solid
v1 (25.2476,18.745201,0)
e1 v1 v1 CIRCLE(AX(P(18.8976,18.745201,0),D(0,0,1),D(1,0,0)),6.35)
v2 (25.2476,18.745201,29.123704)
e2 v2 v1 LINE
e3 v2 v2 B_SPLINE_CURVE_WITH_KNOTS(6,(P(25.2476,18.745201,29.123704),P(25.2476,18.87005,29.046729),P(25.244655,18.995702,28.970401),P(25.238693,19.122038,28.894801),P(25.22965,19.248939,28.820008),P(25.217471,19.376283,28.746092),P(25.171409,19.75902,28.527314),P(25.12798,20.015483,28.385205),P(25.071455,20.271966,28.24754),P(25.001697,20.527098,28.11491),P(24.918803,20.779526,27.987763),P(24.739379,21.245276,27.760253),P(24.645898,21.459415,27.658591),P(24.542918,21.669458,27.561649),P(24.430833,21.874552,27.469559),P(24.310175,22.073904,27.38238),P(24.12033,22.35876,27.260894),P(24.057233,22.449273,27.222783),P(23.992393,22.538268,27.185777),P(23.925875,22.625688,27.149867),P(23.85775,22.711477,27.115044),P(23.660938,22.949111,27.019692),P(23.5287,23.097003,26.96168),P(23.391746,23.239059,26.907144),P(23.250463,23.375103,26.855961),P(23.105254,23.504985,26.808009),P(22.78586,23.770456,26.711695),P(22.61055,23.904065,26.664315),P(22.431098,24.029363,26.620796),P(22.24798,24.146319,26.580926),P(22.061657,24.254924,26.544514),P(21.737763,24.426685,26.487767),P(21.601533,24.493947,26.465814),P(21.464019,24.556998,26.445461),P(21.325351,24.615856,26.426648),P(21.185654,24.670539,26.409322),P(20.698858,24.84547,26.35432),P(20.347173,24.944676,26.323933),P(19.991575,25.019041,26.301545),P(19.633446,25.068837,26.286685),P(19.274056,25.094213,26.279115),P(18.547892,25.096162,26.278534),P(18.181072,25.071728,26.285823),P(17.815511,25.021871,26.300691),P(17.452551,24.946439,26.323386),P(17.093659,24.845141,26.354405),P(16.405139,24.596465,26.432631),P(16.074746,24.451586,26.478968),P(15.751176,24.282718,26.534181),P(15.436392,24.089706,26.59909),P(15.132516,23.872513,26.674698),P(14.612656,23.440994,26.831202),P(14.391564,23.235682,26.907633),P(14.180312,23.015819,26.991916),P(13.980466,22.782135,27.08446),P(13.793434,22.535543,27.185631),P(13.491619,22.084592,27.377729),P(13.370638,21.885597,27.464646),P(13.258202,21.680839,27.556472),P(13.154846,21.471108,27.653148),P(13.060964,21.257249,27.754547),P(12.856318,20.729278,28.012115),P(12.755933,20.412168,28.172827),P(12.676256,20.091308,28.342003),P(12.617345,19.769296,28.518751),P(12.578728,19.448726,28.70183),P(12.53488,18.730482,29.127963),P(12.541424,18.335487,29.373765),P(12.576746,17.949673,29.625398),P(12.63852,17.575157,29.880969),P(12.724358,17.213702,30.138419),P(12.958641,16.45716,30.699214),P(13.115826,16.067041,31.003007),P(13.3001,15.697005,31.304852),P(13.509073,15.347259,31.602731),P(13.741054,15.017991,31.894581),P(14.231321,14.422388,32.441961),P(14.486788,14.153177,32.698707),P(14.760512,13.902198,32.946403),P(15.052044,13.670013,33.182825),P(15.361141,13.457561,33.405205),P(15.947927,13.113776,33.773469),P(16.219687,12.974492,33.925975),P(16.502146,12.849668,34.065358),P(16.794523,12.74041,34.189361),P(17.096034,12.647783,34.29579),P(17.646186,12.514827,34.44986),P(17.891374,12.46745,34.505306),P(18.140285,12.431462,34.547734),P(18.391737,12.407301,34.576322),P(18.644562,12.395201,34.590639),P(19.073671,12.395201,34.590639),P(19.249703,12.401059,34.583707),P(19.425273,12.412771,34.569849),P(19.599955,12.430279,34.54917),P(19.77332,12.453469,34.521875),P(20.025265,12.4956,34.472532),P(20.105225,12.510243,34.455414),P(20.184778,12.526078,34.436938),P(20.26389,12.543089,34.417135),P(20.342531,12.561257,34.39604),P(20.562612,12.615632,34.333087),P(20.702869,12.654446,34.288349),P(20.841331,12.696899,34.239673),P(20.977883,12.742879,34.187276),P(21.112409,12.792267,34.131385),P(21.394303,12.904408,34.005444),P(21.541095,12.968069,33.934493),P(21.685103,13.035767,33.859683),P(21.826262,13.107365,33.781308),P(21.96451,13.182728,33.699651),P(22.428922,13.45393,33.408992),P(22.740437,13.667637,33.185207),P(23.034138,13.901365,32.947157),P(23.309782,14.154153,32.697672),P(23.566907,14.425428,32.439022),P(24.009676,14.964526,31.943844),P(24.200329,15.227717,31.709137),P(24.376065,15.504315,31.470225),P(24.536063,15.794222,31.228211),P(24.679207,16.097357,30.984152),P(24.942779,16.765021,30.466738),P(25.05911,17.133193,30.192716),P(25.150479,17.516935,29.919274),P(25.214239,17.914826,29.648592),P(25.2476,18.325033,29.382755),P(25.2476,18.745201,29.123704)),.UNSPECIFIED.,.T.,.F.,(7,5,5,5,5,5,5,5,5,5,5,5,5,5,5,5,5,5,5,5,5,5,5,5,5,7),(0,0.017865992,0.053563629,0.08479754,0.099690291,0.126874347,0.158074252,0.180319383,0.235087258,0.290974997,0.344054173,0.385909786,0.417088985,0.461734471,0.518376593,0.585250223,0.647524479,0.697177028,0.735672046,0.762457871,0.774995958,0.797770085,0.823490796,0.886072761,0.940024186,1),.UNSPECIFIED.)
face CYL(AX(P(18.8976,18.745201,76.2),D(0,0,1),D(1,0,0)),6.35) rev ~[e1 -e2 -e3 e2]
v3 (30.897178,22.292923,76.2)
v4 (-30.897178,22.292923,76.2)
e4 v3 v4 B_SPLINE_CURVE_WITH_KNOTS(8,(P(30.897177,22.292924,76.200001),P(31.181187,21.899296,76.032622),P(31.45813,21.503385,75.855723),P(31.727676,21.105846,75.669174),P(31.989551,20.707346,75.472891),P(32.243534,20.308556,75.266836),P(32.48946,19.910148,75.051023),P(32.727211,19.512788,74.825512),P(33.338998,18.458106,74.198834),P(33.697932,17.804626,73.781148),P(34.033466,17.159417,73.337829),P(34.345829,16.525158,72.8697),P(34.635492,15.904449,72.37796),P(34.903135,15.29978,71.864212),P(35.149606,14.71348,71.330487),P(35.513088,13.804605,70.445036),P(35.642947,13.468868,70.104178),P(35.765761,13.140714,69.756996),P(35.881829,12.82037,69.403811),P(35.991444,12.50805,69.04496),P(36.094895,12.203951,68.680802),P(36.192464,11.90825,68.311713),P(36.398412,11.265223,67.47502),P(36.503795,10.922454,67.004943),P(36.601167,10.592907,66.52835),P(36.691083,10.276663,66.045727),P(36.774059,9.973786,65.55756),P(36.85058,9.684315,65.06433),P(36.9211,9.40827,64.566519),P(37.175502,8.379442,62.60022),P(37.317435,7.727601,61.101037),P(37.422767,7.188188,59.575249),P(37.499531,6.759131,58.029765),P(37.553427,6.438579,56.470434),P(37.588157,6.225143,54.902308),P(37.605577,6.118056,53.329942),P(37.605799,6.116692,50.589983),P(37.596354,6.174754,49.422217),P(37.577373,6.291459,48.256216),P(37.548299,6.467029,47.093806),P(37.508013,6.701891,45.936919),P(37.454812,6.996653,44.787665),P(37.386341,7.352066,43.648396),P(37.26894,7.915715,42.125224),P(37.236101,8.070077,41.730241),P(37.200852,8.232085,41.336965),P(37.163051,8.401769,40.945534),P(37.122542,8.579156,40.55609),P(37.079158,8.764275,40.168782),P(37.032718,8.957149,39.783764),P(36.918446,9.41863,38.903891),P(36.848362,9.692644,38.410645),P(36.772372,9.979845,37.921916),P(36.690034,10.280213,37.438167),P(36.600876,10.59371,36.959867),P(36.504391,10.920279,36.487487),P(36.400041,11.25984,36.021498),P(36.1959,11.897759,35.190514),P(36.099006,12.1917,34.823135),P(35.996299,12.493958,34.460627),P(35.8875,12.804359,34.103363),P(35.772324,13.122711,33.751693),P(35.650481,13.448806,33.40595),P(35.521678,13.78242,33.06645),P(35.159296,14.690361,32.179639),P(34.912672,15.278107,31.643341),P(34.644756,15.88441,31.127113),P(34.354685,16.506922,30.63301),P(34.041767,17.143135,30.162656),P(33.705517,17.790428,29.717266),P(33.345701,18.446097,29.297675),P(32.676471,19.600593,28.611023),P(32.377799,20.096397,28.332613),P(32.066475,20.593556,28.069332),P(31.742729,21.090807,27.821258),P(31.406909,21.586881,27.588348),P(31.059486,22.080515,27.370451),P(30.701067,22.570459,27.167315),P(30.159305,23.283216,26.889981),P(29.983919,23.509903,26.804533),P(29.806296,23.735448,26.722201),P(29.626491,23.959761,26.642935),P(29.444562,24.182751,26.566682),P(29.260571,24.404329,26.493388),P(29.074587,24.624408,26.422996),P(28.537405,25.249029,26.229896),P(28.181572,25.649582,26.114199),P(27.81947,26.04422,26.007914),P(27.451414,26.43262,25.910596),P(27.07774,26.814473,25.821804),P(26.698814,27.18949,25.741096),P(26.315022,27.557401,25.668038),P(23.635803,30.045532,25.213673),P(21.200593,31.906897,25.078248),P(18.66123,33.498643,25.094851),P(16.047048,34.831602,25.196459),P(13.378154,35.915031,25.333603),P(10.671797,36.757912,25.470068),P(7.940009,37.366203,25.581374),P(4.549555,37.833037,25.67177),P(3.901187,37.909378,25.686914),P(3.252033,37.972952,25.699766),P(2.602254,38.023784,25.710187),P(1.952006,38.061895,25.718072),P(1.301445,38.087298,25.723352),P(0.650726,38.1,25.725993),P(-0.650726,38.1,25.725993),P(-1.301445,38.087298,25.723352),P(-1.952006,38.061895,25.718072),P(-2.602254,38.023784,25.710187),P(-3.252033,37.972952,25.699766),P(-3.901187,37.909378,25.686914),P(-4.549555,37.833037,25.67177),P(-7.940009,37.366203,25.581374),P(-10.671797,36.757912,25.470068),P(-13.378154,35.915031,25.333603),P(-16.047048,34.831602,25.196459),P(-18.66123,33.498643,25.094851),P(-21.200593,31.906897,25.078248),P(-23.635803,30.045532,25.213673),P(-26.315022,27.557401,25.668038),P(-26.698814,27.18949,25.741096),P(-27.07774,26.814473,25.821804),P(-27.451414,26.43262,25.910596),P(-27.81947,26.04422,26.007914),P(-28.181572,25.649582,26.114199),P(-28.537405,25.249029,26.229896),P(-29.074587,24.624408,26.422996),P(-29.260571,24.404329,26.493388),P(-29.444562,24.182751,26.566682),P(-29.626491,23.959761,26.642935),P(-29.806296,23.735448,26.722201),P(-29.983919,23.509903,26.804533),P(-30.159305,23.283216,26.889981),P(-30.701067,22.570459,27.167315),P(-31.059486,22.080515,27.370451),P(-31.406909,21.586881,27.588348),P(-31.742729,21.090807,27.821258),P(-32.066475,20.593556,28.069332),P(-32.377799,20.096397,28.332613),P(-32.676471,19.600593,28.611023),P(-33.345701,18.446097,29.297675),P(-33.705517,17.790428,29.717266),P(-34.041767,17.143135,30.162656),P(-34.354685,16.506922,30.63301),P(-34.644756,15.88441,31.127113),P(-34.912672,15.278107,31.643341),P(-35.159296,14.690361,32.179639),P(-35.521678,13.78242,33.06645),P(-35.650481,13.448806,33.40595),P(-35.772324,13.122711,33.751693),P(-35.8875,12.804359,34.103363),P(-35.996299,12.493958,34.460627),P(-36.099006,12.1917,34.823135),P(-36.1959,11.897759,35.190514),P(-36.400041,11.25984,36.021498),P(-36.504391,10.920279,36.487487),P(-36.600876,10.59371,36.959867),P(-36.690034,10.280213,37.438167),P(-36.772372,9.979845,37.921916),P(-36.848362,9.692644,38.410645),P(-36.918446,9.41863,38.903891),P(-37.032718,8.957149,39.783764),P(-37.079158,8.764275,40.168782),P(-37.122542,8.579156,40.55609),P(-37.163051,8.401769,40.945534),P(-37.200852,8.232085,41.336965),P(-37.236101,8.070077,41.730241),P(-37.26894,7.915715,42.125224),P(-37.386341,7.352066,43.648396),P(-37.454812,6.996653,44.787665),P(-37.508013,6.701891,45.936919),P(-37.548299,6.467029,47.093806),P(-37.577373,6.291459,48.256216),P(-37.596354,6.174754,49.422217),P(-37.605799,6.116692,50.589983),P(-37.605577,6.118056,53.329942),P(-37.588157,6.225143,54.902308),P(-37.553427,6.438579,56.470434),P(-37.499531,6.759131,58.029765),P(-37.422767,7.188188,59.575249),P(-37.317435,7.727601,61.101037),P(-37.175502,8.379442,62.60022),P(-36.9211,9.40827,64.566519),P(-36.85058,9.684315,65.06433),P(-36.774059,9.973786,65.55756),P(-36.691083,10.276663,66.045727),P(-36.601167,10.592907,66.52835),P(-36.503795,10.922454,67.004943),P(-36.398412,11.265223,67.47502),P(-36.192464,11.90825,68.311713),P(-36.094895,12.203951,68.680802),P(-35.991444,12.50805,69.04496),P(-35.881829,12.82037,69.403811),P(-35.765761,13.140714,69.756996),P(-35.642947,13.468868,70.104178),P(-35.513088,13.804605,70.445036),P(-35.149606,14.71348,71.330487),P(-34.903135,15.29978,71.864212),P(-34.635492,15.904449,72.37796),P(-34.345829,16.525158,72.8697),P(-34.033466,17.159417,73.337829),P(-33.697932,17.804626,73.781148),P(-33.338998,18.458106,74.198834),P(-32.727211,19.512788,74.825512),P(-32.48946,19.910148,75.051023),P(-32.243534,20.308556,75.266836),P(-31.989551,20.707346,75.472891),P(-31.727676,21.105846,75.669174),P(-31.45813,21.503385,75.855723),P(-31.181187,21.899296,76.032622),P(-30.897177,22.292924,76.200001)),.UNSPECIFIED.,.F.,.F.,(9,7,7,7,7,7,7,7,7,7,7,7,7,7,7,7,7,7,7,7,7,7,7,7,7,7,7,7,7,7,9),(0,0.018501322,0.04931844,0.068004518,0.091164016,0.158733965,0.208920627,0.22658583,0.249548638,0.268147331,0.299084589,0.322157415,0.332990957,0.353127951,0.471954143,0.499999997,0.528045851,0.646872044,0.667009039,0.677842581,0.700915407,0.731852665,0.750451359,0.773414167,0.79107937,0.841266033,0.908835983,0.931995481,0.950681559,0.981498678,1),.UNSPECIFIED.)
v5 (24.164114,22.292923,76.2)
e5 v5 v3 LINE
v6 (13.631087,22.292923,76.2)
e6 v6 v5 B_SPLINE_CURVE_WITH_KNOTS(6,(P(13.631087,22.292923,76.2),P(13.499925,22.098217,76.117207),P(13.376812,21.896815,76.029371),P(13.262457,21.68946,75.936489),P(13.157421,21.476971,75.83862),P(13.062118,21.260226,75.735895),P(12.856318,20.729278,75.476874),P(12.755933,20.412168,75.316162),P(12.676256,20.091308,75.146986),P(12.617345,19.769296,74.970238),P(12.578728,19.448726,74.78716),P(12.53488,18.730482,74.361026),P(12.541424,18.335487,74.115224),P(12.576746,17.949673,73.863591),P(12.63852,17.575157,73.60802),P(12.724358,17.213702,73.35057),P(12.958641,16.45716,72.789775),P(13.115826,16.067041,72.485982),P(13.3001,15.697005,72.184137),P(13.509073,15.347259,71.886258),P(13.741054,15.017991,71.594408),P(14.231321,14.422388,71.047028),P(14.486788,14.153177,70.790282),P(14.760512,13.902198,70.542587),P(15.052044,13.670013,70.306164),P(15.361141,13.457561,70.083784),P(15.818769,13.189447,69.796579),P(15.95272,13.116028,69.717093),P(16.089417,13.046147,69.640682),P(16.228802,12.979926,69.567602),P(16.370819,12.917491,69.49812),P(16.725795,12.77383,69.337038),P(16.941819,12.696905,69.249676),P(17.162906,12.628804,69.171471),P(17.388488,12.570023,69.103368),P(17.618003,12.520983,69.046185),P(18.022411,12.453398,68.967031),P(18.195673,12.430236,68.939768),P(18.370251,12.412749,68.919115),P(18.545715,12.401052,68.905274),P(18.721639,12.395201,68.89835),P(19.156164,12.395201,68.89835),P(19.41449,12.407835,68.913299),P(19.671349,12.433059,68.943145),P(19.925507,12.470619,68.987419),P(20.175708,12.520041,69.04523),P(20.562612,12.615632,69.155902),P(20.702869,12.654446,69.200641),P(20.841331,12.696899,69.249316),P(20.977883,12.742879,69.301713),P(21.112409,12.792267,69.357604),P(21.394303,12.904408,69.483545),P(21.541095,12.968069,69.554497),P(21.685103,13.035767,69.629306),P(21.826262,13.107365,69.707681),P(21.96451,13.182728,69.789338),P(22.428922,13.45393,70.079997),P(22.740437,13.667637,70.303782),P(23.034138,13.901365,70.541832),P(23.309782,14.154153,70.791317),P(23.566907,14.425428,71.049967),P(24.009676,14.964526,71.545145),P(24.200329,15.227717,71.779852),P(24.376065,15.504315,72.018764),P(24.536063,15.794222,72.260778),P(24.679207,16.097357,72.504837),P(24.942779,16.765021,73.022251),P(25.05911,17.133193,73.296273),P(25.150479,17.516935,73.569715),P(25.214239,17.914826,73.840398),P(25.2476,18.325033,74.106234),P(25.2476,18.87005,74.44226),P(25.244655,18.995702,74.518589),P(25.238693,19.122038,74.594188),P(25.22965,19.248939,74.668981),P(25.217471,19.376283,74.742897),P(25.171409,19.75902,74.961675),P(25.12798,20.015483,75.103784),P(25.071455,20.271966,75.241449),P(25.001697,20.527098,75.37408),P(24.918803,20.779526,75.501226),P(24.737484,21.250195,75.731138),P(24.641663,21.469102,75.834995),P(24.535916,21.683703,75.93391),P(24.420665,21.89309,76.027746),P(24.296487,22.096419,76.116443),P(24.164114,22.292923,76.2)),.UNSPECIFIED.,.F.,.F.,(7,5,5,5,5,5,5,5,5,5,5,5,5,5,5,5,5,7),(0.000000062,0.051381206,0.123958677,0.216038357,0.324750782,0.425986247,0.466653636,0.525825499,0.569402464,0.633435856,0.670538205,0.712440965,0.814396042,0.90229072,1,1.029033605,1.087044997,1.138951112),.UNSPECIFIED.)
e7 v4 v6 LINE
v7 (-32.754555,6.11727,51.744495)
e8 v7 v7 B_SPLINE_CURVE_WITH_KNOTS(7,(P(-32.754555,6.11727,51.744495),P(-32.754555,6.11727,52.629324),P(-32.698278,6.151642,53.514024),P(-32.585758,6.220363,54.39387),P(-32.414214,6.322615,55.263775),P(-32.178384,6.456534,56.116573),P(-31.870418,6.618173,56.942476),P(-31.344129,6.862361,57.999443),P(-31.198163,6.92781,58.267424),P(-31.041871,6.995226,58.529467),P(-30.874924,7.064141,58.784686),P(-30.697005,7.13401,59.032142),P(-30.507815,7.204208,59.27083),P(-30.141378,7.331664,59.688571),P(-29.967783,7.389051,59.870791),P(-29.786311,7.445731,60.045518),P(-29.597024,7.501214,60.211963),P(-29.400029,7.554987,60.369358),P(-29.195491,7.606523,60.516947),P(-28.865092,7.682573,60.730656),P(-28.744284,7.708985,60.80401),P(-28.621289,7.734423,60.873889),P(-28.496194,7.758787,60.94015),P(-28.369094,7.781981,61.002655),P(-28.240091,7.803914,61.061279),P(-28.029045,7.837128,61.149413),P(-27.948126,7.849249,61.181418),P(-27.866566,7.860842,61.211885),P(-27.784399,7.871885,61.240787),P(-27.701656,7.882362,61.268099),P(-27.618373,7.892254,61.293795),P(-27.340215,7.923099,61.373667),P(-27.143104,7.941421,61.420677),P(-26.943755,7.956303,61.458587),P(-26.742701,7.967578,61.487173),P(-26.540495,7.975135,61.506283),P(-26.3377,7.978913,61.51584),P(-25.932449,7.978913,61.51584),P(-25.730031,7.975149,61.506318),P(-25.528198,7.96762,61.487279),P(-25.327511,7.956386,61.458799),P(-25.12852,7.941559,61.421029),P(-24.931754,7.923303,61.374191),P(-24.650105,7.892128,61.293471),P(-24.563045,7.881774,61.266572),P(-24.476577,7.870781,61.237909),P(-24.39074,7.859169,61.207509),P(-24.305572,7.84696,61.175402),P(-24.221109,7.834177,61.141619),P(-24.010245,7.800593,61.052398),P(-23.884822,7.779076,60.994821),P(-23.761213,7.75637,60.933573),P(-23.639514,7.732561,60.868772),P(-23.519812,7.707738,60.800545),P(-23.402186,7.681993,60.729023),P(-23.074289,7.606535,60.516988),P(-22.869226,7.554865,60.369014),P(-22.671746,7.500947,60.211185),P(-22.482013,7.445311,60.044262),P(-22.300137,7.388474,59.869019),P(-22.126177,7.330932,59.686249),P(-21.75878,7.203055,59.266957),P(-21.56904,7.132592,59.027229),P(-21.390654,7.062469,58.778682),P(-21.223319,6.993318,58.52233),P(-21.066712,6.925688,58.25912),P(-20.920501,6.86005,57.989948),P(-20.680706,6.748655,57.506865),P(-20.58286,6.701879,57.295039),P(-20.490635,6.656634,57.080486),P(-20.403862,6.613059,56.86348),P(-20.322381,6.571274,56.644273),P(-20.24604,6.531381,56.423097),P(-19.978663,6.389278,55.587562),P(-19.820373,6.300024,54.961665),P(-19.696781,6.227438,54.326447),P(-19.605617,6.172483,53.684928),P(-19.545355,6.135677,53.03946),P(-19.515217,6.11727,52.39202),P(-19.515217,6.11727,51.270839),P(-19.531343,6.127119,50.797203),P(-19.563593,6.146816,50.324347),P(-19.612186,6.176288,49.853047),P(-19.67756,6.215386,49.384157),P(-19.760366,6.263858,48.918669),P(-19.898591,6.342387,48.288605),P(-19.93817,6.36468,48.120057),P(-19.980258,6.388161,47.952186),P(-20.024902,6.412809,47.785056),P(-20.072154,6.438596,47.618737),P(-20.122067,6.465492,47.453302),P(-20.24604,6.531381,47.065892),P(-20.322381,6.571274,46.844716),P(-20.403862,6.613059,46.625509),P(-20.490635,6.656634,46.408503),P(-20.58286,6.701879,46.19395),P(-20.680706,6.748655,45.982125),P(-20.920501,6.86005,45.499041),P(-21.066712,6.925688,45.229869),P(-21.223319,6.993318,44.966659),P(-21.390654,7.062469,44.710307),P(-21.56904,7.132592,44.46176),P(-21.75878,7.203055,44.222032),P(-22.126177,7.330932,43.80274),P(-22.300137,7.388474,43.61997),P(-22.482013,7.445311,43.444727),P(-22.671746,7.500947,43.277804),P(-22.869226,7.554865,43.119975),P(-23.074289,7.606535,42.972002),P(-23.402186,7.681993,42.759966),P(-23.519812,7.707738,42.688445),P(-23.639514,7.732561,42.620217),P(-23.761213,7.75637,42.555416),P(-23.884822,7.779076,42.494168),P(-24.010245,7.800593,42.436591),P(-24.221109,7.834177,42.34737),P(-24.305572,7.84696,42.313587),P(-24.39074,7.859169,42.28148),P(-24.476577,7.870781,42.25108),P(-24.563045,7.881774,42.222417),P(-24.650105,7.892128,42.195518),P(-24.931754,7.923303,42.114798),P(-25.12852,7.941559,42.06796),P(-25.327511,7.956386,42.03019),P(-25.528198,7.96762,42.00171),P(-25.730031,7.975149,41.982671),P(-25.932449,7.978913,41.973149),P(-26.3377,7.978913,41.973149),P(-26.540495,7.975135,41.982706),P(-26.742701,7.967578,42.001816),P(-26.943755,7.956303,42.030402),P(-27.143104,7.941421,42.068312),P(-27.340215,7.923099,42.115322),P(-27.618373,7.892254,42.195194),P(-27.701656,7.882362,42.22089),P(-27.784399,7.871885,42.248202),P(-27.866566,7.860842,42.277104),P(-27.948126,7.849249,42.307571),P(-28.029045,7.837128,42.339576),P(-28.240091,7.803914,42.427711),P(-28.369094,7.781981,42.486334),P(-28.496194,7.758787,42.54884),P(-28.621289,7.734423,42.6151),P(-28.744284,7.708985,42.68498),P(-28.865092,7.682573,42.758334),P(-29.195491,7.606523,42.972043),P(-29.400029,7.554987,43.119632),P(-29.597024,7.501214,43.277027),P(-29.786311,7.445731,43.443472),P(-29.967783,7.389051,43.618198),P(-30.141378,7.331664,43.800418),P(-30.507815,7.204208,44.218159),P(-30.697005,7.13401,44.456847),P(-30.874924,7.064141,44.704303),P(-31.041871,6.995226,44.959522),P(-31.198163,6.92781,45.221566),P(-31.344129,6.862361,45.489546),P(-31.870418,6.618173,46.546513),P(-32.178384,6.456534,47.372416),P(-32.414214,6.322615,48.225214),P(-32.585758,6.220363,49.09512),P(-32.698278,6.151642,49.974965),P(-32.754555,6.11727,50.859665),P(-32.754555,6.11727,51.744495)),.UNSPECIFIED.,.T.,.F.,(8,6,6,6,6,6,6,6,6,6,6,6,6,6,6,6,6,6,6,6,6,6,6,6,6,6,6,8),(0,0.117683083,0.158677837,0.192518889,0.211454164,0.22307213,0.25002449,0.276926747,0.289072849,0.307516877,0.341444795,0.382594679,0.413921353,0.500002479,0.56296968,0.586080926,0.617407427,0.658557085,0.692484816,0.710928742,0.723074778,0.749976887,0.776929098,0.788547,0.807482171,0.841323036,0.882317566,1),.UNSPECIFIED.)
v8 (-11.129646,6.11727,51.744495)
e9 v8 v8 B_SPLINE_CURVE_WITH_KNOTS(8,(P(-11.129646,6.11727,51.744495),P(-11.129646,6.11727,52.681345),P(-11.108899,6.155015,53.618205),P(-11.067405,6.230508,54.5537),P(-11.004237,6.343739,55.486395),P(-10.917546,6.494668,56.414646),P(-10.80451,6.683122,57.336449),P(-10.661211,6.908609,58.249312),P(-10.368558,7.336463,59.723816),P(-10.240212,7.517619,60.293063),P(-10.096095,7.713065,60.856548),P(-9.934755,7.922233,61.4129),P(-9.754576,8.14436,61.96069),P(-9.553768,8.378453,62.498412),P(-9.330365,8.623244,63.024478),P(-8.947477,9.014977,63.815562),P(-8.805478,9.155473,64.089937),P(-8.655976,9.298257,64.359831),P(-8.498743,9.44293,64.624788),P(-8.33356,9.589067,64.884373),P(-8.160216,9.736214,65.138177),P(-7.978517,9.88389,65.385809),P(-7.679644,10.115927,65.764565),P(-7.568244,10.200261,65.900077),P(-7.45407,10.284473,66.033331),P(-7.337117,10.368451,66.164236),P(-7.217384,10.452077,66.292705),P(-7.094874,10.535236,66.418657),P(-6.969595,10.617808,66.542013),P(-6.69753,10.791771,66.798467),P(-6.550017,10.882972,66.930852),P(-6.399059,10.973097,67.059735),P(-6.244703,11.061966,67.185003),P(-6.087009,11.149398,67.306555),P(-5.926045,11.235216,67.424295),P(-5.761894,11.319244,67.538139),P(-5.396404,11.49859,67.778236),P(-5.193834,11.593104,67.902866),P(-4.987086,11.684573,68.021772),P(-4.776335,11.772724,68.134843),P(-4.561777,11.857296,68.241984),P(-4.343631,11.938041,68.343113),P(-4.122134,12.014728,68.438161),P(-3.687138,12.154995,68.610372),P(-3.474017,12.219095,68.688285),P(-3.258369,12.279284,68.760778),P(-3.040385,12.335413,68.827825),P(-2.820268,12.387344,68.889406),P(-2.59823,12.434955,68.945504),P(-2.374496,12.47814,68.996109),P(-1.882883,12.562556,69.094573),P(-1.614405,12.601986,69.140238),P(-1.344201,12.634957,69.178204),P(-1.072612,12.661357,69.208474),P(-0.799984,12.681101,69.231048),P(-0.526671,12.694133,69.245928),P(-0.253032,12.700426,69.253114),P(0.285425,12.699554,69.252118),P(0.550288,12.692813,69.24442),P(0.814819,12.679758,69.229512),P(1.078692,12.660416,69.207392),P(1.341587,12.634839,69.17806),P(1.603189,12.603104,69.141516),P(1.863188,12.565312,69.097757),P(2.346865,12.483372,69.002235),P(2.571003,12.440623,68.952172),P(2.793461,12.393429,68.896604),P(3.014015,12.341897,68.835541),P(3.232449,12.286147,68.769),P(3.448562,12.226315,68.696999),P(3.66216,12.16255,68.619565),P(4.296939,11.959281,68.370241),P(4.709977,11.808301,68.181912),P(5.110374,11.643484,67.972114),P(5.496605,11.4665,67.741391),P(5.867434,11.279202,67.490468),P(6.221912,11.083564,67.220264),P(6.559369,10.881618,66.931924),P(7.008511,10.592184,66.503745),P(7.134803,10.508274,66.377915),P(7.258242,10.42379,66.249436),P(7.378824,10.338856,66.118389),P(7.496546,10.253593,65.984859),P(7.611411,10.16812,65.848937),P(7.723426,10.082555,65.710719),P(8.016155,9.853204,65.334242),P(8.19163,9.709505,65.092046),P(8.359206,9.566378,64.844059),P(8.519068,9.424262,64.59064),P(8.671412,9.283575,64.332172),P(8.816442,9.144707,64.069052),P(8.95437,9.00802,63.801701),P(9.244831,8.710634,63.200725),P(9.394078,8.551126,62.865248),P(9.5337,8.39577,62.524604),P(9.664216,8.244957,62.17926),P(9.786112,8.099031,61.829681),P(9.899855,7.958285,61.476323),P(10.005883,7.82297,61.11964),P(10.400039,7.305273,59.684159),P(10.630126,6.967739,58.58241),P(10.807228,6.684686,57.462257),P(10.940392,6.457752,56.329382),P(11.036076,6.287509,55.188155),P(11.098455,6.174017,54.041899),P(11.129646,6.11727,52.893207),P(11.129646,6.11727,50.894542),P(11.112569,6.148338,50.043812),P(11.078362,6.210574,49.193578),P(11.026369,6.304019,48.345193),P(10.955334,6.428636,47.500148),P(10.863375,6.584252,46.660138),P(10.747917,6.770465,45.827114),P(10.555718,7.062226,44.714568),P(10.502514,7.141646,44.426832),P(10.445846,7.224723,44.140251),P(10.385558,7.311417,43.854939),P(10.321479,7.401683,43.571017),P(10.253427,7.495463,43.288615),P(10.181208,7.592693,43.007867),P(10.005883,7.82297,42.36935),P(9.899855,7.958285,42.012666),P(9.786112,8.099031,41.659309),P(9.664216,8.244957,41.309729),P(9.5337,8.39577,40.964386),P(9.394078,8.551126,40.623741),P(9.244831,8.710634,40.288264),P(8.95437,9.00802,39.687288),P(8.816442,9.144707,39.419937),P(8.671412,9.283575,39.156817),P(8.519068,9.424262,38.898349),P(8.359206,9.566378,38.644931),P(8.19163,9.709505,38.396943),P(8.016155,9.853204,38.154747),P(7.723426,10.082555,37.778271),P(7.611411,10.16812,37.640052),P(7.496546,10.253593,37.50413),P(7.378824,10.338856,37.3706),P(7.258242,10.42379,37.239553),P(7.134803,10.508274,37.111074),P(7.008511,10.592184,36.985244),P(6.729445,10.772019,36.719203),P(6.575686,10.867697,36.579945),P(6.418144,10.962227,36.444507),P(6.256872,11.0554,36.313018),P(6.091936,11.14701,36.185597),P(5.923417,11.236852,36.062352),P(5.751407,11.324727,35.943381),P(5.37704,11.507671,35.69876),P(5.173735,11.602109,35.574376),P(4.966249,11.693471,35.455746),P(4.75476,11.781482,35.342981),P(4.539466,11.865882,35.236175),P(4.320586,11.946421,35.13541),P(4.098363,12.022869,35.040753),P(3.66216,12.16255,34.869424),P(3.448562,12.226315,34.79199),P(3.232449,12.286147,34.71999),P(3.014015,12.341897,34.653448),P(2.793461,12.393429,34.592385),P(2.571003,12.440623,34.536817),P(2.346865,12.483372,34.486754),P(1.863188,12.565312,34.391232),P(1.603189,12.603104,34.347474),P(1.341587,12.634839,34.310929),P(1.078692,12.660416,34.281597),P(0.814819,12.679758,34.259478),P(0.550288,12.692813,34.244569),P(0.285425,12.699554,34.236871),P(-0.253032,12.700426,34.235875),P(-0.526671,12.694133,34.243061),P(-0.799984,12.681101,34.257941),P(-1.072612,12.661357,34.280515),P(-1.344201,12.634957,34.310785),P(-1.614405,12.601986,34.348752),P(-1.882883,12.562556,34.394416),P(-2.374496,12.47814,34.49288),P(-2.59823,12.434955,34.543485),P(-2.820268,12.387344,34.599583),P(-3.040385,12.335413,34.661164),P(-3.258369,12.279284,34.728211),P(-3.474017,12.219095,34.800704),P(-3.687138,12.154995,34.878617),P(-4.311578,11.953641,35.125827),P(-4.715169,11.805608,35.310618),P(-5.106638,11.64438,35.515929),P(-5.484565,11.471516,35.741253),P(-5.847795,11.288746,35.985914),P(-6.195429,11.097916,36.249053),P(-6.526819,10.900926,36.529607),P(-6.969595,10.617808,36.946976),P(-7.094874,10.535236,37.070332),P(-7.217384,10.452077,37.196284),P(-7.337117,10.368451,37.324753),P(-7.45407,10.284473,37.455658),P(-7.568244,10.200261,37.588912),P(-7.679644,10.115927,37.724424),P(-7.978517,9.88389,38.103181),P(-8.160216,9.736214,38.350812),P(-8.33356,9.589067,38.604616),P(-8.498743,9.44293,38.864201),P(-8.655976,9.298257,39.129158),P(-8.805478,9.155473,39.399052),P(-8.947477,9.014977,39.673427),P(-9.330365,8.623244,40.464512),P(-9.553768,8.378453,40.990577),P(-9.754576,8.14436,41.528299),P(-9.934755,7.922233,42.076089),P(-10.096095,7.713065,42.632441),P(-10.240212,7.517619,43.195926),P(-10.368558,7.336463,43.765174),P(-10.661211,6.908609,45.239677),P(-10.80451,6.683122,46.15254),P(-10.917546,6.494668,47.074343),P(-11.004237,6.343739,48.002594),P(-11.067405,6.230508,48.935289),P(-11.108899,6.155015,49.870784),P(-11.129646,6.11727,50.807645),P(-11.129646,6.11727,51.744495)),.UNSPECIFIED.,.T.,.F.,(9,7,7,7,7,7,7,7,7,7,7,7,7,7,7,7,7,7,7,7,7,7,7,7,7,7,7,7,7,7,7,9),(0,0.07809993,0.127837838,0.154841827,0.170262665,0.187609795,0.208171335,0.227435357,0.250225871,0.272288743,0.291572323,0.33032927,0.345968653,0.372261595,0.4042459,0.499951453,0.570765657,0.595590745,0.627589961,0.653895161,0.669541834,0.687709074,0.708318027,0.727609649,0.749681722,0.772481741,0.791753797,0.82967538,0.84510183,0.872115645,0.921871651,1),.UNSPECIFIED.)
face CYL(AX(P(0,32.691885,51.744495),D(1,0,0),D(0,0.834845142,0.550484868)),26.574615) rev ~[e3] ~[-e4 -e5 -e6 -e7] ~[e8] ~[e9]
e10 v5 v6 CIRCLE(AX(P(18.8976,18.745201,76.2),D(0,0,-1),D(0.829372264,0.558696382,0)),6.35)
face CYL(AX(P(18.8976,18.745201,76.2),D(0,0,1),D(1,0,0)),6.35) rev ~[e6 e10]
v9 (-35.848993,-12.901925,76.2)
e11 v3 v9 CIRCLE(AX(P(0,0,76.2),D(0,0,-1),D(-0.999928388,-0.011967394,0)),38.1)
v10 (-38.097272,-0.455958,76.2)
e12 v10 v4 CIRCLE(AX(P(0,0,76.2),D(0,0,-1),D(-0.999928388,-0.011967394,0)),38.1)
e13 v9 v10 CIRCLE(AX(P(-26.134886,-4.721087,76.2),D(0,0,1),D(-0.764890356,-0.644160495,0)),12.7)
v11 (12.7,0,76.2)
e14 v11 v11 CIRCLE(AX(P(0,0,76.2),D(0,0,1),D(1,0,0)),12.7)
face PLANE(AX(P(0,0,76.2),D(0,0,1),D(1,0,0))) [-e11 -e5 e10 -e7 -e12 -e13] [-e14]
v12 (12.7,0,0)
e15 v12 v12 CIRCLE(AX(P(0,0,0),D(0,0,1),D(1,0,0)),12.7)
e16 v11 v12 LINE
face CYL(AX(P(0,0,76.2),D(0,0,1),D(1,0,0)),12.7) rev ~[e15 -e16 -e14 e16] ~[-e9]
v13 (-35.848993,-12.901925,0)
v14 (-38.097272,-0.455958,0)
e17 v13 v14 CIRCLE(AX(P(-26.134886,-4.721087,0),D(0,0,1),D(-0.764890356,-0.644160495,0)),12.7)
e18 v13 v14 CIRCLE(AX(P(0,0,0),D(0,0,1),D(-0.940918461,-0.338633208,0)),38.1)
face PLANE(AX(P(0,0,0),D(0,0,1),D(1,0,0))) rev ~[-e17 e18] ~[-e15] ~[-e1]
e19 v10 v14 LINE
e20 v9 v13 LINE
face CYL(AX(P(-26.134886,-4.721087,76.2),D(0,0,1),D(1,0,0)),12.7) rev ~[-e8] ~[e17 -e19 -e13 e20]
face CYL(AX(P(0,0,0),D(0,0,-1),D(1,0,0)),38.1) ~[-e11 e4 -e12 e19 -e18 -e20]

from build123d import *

# Parameters (mm, degrees)
F0_R      = 38.1
F1_DEPTH  = 76.2
F2_R      = 12.7
F3_DEPTH  = 255.778
F4_R      = 6.35
F5_DEPTH  = 105.156
F7_R      = 12.7
F8_DEPTH  = 112.522
F10_DEPTH = 91.694


with BuildPart() as f1:
    # F0 (on Top) → F1 (new body)
    with BuildSketch(Plane.XY):
        Circle(F0_R)
    extrude(amount=F1_DEPTH)

    # F2 (on face) → F3 (cut)
    with BuildSketch(Plane.XY.offset(76.2)):
        Circle(F2_R)
    extrude(amount=-F3_DEPTH, mode=Mode.SUBTRACT)

    # F4 (on face) → F5 (cut)
    with BuildSketch(Plane.XY.offset(76.2)):
        with Locations((18.897600472, 18.7452007085)):
            Circle(F4_R)
    extrude(amount=-F5_DEPTH, mode=Mode.SUBTRACT)

    # F7 (on face) → F8 (cut)
    with BuildSketch(Plane.XY.offset(76.2)):
        with Locations((-26.1348858476, -4.7210869379)):
            Circle(F7_R)
    extrude(amount=-F8_DEPTH, mode=Mode.SUBTRACT)

    # F9 (on Right) → F10 (cut, symmetric)
    with BuildSketch(Plane.YZ):
        with BuildLine():
            ThreePointArc((53.601659511, 35.343534931), (57.8103975555, 43.0686388402), (59.2664996787, 51.7444945872))
            ThreePointArc((59.2664996787, 51.7444945872), (58.1456298442, 59.3810526604), (54.8775729197, 66.3734179491))
            ThreePointArc((54.8775729197, 66.3734179491), (42.9419800159, 51.3230223587), (53.601659511, 35.343534931))
        make_face()
        with BuildLine():
            ThreePointArc((54.8775729197, 66.3734179491), (58.1456298442, 59.3810526604), (59.2664996787, 51.7444945872))
            ThreePointArc((59.2664996787, 51.7444945872), (57.8103975555, 43.0686388402), (53.601659511, 35.343534931))
            ThreePointArc((53.601659511, 35.343534931), (68.575369435, 37.2686066813), (75.5599205639, 50.6526993162))
            ThreePointArc((75.5599205639, 50.6526993162), (69.1173648929, 63.6421228832), (54.8775729197, 66.3734179491))
        make_face()
        with BuildLine():
            ThreePointArc((53.601659511, 35.343534931), (42.9419800159, 51.3230223587), (54.8775729197, 66.3734179491))
            ThreePointArc((54.8775729197, 66.3734179491), (6.1397071015, 52.8362898582), (53.601659511, 35.343534931))
        make_face()
    extrude(amount=F10_DEPTH, both=True, mode=Mode.SUBTRACT)


solid = f1.part
